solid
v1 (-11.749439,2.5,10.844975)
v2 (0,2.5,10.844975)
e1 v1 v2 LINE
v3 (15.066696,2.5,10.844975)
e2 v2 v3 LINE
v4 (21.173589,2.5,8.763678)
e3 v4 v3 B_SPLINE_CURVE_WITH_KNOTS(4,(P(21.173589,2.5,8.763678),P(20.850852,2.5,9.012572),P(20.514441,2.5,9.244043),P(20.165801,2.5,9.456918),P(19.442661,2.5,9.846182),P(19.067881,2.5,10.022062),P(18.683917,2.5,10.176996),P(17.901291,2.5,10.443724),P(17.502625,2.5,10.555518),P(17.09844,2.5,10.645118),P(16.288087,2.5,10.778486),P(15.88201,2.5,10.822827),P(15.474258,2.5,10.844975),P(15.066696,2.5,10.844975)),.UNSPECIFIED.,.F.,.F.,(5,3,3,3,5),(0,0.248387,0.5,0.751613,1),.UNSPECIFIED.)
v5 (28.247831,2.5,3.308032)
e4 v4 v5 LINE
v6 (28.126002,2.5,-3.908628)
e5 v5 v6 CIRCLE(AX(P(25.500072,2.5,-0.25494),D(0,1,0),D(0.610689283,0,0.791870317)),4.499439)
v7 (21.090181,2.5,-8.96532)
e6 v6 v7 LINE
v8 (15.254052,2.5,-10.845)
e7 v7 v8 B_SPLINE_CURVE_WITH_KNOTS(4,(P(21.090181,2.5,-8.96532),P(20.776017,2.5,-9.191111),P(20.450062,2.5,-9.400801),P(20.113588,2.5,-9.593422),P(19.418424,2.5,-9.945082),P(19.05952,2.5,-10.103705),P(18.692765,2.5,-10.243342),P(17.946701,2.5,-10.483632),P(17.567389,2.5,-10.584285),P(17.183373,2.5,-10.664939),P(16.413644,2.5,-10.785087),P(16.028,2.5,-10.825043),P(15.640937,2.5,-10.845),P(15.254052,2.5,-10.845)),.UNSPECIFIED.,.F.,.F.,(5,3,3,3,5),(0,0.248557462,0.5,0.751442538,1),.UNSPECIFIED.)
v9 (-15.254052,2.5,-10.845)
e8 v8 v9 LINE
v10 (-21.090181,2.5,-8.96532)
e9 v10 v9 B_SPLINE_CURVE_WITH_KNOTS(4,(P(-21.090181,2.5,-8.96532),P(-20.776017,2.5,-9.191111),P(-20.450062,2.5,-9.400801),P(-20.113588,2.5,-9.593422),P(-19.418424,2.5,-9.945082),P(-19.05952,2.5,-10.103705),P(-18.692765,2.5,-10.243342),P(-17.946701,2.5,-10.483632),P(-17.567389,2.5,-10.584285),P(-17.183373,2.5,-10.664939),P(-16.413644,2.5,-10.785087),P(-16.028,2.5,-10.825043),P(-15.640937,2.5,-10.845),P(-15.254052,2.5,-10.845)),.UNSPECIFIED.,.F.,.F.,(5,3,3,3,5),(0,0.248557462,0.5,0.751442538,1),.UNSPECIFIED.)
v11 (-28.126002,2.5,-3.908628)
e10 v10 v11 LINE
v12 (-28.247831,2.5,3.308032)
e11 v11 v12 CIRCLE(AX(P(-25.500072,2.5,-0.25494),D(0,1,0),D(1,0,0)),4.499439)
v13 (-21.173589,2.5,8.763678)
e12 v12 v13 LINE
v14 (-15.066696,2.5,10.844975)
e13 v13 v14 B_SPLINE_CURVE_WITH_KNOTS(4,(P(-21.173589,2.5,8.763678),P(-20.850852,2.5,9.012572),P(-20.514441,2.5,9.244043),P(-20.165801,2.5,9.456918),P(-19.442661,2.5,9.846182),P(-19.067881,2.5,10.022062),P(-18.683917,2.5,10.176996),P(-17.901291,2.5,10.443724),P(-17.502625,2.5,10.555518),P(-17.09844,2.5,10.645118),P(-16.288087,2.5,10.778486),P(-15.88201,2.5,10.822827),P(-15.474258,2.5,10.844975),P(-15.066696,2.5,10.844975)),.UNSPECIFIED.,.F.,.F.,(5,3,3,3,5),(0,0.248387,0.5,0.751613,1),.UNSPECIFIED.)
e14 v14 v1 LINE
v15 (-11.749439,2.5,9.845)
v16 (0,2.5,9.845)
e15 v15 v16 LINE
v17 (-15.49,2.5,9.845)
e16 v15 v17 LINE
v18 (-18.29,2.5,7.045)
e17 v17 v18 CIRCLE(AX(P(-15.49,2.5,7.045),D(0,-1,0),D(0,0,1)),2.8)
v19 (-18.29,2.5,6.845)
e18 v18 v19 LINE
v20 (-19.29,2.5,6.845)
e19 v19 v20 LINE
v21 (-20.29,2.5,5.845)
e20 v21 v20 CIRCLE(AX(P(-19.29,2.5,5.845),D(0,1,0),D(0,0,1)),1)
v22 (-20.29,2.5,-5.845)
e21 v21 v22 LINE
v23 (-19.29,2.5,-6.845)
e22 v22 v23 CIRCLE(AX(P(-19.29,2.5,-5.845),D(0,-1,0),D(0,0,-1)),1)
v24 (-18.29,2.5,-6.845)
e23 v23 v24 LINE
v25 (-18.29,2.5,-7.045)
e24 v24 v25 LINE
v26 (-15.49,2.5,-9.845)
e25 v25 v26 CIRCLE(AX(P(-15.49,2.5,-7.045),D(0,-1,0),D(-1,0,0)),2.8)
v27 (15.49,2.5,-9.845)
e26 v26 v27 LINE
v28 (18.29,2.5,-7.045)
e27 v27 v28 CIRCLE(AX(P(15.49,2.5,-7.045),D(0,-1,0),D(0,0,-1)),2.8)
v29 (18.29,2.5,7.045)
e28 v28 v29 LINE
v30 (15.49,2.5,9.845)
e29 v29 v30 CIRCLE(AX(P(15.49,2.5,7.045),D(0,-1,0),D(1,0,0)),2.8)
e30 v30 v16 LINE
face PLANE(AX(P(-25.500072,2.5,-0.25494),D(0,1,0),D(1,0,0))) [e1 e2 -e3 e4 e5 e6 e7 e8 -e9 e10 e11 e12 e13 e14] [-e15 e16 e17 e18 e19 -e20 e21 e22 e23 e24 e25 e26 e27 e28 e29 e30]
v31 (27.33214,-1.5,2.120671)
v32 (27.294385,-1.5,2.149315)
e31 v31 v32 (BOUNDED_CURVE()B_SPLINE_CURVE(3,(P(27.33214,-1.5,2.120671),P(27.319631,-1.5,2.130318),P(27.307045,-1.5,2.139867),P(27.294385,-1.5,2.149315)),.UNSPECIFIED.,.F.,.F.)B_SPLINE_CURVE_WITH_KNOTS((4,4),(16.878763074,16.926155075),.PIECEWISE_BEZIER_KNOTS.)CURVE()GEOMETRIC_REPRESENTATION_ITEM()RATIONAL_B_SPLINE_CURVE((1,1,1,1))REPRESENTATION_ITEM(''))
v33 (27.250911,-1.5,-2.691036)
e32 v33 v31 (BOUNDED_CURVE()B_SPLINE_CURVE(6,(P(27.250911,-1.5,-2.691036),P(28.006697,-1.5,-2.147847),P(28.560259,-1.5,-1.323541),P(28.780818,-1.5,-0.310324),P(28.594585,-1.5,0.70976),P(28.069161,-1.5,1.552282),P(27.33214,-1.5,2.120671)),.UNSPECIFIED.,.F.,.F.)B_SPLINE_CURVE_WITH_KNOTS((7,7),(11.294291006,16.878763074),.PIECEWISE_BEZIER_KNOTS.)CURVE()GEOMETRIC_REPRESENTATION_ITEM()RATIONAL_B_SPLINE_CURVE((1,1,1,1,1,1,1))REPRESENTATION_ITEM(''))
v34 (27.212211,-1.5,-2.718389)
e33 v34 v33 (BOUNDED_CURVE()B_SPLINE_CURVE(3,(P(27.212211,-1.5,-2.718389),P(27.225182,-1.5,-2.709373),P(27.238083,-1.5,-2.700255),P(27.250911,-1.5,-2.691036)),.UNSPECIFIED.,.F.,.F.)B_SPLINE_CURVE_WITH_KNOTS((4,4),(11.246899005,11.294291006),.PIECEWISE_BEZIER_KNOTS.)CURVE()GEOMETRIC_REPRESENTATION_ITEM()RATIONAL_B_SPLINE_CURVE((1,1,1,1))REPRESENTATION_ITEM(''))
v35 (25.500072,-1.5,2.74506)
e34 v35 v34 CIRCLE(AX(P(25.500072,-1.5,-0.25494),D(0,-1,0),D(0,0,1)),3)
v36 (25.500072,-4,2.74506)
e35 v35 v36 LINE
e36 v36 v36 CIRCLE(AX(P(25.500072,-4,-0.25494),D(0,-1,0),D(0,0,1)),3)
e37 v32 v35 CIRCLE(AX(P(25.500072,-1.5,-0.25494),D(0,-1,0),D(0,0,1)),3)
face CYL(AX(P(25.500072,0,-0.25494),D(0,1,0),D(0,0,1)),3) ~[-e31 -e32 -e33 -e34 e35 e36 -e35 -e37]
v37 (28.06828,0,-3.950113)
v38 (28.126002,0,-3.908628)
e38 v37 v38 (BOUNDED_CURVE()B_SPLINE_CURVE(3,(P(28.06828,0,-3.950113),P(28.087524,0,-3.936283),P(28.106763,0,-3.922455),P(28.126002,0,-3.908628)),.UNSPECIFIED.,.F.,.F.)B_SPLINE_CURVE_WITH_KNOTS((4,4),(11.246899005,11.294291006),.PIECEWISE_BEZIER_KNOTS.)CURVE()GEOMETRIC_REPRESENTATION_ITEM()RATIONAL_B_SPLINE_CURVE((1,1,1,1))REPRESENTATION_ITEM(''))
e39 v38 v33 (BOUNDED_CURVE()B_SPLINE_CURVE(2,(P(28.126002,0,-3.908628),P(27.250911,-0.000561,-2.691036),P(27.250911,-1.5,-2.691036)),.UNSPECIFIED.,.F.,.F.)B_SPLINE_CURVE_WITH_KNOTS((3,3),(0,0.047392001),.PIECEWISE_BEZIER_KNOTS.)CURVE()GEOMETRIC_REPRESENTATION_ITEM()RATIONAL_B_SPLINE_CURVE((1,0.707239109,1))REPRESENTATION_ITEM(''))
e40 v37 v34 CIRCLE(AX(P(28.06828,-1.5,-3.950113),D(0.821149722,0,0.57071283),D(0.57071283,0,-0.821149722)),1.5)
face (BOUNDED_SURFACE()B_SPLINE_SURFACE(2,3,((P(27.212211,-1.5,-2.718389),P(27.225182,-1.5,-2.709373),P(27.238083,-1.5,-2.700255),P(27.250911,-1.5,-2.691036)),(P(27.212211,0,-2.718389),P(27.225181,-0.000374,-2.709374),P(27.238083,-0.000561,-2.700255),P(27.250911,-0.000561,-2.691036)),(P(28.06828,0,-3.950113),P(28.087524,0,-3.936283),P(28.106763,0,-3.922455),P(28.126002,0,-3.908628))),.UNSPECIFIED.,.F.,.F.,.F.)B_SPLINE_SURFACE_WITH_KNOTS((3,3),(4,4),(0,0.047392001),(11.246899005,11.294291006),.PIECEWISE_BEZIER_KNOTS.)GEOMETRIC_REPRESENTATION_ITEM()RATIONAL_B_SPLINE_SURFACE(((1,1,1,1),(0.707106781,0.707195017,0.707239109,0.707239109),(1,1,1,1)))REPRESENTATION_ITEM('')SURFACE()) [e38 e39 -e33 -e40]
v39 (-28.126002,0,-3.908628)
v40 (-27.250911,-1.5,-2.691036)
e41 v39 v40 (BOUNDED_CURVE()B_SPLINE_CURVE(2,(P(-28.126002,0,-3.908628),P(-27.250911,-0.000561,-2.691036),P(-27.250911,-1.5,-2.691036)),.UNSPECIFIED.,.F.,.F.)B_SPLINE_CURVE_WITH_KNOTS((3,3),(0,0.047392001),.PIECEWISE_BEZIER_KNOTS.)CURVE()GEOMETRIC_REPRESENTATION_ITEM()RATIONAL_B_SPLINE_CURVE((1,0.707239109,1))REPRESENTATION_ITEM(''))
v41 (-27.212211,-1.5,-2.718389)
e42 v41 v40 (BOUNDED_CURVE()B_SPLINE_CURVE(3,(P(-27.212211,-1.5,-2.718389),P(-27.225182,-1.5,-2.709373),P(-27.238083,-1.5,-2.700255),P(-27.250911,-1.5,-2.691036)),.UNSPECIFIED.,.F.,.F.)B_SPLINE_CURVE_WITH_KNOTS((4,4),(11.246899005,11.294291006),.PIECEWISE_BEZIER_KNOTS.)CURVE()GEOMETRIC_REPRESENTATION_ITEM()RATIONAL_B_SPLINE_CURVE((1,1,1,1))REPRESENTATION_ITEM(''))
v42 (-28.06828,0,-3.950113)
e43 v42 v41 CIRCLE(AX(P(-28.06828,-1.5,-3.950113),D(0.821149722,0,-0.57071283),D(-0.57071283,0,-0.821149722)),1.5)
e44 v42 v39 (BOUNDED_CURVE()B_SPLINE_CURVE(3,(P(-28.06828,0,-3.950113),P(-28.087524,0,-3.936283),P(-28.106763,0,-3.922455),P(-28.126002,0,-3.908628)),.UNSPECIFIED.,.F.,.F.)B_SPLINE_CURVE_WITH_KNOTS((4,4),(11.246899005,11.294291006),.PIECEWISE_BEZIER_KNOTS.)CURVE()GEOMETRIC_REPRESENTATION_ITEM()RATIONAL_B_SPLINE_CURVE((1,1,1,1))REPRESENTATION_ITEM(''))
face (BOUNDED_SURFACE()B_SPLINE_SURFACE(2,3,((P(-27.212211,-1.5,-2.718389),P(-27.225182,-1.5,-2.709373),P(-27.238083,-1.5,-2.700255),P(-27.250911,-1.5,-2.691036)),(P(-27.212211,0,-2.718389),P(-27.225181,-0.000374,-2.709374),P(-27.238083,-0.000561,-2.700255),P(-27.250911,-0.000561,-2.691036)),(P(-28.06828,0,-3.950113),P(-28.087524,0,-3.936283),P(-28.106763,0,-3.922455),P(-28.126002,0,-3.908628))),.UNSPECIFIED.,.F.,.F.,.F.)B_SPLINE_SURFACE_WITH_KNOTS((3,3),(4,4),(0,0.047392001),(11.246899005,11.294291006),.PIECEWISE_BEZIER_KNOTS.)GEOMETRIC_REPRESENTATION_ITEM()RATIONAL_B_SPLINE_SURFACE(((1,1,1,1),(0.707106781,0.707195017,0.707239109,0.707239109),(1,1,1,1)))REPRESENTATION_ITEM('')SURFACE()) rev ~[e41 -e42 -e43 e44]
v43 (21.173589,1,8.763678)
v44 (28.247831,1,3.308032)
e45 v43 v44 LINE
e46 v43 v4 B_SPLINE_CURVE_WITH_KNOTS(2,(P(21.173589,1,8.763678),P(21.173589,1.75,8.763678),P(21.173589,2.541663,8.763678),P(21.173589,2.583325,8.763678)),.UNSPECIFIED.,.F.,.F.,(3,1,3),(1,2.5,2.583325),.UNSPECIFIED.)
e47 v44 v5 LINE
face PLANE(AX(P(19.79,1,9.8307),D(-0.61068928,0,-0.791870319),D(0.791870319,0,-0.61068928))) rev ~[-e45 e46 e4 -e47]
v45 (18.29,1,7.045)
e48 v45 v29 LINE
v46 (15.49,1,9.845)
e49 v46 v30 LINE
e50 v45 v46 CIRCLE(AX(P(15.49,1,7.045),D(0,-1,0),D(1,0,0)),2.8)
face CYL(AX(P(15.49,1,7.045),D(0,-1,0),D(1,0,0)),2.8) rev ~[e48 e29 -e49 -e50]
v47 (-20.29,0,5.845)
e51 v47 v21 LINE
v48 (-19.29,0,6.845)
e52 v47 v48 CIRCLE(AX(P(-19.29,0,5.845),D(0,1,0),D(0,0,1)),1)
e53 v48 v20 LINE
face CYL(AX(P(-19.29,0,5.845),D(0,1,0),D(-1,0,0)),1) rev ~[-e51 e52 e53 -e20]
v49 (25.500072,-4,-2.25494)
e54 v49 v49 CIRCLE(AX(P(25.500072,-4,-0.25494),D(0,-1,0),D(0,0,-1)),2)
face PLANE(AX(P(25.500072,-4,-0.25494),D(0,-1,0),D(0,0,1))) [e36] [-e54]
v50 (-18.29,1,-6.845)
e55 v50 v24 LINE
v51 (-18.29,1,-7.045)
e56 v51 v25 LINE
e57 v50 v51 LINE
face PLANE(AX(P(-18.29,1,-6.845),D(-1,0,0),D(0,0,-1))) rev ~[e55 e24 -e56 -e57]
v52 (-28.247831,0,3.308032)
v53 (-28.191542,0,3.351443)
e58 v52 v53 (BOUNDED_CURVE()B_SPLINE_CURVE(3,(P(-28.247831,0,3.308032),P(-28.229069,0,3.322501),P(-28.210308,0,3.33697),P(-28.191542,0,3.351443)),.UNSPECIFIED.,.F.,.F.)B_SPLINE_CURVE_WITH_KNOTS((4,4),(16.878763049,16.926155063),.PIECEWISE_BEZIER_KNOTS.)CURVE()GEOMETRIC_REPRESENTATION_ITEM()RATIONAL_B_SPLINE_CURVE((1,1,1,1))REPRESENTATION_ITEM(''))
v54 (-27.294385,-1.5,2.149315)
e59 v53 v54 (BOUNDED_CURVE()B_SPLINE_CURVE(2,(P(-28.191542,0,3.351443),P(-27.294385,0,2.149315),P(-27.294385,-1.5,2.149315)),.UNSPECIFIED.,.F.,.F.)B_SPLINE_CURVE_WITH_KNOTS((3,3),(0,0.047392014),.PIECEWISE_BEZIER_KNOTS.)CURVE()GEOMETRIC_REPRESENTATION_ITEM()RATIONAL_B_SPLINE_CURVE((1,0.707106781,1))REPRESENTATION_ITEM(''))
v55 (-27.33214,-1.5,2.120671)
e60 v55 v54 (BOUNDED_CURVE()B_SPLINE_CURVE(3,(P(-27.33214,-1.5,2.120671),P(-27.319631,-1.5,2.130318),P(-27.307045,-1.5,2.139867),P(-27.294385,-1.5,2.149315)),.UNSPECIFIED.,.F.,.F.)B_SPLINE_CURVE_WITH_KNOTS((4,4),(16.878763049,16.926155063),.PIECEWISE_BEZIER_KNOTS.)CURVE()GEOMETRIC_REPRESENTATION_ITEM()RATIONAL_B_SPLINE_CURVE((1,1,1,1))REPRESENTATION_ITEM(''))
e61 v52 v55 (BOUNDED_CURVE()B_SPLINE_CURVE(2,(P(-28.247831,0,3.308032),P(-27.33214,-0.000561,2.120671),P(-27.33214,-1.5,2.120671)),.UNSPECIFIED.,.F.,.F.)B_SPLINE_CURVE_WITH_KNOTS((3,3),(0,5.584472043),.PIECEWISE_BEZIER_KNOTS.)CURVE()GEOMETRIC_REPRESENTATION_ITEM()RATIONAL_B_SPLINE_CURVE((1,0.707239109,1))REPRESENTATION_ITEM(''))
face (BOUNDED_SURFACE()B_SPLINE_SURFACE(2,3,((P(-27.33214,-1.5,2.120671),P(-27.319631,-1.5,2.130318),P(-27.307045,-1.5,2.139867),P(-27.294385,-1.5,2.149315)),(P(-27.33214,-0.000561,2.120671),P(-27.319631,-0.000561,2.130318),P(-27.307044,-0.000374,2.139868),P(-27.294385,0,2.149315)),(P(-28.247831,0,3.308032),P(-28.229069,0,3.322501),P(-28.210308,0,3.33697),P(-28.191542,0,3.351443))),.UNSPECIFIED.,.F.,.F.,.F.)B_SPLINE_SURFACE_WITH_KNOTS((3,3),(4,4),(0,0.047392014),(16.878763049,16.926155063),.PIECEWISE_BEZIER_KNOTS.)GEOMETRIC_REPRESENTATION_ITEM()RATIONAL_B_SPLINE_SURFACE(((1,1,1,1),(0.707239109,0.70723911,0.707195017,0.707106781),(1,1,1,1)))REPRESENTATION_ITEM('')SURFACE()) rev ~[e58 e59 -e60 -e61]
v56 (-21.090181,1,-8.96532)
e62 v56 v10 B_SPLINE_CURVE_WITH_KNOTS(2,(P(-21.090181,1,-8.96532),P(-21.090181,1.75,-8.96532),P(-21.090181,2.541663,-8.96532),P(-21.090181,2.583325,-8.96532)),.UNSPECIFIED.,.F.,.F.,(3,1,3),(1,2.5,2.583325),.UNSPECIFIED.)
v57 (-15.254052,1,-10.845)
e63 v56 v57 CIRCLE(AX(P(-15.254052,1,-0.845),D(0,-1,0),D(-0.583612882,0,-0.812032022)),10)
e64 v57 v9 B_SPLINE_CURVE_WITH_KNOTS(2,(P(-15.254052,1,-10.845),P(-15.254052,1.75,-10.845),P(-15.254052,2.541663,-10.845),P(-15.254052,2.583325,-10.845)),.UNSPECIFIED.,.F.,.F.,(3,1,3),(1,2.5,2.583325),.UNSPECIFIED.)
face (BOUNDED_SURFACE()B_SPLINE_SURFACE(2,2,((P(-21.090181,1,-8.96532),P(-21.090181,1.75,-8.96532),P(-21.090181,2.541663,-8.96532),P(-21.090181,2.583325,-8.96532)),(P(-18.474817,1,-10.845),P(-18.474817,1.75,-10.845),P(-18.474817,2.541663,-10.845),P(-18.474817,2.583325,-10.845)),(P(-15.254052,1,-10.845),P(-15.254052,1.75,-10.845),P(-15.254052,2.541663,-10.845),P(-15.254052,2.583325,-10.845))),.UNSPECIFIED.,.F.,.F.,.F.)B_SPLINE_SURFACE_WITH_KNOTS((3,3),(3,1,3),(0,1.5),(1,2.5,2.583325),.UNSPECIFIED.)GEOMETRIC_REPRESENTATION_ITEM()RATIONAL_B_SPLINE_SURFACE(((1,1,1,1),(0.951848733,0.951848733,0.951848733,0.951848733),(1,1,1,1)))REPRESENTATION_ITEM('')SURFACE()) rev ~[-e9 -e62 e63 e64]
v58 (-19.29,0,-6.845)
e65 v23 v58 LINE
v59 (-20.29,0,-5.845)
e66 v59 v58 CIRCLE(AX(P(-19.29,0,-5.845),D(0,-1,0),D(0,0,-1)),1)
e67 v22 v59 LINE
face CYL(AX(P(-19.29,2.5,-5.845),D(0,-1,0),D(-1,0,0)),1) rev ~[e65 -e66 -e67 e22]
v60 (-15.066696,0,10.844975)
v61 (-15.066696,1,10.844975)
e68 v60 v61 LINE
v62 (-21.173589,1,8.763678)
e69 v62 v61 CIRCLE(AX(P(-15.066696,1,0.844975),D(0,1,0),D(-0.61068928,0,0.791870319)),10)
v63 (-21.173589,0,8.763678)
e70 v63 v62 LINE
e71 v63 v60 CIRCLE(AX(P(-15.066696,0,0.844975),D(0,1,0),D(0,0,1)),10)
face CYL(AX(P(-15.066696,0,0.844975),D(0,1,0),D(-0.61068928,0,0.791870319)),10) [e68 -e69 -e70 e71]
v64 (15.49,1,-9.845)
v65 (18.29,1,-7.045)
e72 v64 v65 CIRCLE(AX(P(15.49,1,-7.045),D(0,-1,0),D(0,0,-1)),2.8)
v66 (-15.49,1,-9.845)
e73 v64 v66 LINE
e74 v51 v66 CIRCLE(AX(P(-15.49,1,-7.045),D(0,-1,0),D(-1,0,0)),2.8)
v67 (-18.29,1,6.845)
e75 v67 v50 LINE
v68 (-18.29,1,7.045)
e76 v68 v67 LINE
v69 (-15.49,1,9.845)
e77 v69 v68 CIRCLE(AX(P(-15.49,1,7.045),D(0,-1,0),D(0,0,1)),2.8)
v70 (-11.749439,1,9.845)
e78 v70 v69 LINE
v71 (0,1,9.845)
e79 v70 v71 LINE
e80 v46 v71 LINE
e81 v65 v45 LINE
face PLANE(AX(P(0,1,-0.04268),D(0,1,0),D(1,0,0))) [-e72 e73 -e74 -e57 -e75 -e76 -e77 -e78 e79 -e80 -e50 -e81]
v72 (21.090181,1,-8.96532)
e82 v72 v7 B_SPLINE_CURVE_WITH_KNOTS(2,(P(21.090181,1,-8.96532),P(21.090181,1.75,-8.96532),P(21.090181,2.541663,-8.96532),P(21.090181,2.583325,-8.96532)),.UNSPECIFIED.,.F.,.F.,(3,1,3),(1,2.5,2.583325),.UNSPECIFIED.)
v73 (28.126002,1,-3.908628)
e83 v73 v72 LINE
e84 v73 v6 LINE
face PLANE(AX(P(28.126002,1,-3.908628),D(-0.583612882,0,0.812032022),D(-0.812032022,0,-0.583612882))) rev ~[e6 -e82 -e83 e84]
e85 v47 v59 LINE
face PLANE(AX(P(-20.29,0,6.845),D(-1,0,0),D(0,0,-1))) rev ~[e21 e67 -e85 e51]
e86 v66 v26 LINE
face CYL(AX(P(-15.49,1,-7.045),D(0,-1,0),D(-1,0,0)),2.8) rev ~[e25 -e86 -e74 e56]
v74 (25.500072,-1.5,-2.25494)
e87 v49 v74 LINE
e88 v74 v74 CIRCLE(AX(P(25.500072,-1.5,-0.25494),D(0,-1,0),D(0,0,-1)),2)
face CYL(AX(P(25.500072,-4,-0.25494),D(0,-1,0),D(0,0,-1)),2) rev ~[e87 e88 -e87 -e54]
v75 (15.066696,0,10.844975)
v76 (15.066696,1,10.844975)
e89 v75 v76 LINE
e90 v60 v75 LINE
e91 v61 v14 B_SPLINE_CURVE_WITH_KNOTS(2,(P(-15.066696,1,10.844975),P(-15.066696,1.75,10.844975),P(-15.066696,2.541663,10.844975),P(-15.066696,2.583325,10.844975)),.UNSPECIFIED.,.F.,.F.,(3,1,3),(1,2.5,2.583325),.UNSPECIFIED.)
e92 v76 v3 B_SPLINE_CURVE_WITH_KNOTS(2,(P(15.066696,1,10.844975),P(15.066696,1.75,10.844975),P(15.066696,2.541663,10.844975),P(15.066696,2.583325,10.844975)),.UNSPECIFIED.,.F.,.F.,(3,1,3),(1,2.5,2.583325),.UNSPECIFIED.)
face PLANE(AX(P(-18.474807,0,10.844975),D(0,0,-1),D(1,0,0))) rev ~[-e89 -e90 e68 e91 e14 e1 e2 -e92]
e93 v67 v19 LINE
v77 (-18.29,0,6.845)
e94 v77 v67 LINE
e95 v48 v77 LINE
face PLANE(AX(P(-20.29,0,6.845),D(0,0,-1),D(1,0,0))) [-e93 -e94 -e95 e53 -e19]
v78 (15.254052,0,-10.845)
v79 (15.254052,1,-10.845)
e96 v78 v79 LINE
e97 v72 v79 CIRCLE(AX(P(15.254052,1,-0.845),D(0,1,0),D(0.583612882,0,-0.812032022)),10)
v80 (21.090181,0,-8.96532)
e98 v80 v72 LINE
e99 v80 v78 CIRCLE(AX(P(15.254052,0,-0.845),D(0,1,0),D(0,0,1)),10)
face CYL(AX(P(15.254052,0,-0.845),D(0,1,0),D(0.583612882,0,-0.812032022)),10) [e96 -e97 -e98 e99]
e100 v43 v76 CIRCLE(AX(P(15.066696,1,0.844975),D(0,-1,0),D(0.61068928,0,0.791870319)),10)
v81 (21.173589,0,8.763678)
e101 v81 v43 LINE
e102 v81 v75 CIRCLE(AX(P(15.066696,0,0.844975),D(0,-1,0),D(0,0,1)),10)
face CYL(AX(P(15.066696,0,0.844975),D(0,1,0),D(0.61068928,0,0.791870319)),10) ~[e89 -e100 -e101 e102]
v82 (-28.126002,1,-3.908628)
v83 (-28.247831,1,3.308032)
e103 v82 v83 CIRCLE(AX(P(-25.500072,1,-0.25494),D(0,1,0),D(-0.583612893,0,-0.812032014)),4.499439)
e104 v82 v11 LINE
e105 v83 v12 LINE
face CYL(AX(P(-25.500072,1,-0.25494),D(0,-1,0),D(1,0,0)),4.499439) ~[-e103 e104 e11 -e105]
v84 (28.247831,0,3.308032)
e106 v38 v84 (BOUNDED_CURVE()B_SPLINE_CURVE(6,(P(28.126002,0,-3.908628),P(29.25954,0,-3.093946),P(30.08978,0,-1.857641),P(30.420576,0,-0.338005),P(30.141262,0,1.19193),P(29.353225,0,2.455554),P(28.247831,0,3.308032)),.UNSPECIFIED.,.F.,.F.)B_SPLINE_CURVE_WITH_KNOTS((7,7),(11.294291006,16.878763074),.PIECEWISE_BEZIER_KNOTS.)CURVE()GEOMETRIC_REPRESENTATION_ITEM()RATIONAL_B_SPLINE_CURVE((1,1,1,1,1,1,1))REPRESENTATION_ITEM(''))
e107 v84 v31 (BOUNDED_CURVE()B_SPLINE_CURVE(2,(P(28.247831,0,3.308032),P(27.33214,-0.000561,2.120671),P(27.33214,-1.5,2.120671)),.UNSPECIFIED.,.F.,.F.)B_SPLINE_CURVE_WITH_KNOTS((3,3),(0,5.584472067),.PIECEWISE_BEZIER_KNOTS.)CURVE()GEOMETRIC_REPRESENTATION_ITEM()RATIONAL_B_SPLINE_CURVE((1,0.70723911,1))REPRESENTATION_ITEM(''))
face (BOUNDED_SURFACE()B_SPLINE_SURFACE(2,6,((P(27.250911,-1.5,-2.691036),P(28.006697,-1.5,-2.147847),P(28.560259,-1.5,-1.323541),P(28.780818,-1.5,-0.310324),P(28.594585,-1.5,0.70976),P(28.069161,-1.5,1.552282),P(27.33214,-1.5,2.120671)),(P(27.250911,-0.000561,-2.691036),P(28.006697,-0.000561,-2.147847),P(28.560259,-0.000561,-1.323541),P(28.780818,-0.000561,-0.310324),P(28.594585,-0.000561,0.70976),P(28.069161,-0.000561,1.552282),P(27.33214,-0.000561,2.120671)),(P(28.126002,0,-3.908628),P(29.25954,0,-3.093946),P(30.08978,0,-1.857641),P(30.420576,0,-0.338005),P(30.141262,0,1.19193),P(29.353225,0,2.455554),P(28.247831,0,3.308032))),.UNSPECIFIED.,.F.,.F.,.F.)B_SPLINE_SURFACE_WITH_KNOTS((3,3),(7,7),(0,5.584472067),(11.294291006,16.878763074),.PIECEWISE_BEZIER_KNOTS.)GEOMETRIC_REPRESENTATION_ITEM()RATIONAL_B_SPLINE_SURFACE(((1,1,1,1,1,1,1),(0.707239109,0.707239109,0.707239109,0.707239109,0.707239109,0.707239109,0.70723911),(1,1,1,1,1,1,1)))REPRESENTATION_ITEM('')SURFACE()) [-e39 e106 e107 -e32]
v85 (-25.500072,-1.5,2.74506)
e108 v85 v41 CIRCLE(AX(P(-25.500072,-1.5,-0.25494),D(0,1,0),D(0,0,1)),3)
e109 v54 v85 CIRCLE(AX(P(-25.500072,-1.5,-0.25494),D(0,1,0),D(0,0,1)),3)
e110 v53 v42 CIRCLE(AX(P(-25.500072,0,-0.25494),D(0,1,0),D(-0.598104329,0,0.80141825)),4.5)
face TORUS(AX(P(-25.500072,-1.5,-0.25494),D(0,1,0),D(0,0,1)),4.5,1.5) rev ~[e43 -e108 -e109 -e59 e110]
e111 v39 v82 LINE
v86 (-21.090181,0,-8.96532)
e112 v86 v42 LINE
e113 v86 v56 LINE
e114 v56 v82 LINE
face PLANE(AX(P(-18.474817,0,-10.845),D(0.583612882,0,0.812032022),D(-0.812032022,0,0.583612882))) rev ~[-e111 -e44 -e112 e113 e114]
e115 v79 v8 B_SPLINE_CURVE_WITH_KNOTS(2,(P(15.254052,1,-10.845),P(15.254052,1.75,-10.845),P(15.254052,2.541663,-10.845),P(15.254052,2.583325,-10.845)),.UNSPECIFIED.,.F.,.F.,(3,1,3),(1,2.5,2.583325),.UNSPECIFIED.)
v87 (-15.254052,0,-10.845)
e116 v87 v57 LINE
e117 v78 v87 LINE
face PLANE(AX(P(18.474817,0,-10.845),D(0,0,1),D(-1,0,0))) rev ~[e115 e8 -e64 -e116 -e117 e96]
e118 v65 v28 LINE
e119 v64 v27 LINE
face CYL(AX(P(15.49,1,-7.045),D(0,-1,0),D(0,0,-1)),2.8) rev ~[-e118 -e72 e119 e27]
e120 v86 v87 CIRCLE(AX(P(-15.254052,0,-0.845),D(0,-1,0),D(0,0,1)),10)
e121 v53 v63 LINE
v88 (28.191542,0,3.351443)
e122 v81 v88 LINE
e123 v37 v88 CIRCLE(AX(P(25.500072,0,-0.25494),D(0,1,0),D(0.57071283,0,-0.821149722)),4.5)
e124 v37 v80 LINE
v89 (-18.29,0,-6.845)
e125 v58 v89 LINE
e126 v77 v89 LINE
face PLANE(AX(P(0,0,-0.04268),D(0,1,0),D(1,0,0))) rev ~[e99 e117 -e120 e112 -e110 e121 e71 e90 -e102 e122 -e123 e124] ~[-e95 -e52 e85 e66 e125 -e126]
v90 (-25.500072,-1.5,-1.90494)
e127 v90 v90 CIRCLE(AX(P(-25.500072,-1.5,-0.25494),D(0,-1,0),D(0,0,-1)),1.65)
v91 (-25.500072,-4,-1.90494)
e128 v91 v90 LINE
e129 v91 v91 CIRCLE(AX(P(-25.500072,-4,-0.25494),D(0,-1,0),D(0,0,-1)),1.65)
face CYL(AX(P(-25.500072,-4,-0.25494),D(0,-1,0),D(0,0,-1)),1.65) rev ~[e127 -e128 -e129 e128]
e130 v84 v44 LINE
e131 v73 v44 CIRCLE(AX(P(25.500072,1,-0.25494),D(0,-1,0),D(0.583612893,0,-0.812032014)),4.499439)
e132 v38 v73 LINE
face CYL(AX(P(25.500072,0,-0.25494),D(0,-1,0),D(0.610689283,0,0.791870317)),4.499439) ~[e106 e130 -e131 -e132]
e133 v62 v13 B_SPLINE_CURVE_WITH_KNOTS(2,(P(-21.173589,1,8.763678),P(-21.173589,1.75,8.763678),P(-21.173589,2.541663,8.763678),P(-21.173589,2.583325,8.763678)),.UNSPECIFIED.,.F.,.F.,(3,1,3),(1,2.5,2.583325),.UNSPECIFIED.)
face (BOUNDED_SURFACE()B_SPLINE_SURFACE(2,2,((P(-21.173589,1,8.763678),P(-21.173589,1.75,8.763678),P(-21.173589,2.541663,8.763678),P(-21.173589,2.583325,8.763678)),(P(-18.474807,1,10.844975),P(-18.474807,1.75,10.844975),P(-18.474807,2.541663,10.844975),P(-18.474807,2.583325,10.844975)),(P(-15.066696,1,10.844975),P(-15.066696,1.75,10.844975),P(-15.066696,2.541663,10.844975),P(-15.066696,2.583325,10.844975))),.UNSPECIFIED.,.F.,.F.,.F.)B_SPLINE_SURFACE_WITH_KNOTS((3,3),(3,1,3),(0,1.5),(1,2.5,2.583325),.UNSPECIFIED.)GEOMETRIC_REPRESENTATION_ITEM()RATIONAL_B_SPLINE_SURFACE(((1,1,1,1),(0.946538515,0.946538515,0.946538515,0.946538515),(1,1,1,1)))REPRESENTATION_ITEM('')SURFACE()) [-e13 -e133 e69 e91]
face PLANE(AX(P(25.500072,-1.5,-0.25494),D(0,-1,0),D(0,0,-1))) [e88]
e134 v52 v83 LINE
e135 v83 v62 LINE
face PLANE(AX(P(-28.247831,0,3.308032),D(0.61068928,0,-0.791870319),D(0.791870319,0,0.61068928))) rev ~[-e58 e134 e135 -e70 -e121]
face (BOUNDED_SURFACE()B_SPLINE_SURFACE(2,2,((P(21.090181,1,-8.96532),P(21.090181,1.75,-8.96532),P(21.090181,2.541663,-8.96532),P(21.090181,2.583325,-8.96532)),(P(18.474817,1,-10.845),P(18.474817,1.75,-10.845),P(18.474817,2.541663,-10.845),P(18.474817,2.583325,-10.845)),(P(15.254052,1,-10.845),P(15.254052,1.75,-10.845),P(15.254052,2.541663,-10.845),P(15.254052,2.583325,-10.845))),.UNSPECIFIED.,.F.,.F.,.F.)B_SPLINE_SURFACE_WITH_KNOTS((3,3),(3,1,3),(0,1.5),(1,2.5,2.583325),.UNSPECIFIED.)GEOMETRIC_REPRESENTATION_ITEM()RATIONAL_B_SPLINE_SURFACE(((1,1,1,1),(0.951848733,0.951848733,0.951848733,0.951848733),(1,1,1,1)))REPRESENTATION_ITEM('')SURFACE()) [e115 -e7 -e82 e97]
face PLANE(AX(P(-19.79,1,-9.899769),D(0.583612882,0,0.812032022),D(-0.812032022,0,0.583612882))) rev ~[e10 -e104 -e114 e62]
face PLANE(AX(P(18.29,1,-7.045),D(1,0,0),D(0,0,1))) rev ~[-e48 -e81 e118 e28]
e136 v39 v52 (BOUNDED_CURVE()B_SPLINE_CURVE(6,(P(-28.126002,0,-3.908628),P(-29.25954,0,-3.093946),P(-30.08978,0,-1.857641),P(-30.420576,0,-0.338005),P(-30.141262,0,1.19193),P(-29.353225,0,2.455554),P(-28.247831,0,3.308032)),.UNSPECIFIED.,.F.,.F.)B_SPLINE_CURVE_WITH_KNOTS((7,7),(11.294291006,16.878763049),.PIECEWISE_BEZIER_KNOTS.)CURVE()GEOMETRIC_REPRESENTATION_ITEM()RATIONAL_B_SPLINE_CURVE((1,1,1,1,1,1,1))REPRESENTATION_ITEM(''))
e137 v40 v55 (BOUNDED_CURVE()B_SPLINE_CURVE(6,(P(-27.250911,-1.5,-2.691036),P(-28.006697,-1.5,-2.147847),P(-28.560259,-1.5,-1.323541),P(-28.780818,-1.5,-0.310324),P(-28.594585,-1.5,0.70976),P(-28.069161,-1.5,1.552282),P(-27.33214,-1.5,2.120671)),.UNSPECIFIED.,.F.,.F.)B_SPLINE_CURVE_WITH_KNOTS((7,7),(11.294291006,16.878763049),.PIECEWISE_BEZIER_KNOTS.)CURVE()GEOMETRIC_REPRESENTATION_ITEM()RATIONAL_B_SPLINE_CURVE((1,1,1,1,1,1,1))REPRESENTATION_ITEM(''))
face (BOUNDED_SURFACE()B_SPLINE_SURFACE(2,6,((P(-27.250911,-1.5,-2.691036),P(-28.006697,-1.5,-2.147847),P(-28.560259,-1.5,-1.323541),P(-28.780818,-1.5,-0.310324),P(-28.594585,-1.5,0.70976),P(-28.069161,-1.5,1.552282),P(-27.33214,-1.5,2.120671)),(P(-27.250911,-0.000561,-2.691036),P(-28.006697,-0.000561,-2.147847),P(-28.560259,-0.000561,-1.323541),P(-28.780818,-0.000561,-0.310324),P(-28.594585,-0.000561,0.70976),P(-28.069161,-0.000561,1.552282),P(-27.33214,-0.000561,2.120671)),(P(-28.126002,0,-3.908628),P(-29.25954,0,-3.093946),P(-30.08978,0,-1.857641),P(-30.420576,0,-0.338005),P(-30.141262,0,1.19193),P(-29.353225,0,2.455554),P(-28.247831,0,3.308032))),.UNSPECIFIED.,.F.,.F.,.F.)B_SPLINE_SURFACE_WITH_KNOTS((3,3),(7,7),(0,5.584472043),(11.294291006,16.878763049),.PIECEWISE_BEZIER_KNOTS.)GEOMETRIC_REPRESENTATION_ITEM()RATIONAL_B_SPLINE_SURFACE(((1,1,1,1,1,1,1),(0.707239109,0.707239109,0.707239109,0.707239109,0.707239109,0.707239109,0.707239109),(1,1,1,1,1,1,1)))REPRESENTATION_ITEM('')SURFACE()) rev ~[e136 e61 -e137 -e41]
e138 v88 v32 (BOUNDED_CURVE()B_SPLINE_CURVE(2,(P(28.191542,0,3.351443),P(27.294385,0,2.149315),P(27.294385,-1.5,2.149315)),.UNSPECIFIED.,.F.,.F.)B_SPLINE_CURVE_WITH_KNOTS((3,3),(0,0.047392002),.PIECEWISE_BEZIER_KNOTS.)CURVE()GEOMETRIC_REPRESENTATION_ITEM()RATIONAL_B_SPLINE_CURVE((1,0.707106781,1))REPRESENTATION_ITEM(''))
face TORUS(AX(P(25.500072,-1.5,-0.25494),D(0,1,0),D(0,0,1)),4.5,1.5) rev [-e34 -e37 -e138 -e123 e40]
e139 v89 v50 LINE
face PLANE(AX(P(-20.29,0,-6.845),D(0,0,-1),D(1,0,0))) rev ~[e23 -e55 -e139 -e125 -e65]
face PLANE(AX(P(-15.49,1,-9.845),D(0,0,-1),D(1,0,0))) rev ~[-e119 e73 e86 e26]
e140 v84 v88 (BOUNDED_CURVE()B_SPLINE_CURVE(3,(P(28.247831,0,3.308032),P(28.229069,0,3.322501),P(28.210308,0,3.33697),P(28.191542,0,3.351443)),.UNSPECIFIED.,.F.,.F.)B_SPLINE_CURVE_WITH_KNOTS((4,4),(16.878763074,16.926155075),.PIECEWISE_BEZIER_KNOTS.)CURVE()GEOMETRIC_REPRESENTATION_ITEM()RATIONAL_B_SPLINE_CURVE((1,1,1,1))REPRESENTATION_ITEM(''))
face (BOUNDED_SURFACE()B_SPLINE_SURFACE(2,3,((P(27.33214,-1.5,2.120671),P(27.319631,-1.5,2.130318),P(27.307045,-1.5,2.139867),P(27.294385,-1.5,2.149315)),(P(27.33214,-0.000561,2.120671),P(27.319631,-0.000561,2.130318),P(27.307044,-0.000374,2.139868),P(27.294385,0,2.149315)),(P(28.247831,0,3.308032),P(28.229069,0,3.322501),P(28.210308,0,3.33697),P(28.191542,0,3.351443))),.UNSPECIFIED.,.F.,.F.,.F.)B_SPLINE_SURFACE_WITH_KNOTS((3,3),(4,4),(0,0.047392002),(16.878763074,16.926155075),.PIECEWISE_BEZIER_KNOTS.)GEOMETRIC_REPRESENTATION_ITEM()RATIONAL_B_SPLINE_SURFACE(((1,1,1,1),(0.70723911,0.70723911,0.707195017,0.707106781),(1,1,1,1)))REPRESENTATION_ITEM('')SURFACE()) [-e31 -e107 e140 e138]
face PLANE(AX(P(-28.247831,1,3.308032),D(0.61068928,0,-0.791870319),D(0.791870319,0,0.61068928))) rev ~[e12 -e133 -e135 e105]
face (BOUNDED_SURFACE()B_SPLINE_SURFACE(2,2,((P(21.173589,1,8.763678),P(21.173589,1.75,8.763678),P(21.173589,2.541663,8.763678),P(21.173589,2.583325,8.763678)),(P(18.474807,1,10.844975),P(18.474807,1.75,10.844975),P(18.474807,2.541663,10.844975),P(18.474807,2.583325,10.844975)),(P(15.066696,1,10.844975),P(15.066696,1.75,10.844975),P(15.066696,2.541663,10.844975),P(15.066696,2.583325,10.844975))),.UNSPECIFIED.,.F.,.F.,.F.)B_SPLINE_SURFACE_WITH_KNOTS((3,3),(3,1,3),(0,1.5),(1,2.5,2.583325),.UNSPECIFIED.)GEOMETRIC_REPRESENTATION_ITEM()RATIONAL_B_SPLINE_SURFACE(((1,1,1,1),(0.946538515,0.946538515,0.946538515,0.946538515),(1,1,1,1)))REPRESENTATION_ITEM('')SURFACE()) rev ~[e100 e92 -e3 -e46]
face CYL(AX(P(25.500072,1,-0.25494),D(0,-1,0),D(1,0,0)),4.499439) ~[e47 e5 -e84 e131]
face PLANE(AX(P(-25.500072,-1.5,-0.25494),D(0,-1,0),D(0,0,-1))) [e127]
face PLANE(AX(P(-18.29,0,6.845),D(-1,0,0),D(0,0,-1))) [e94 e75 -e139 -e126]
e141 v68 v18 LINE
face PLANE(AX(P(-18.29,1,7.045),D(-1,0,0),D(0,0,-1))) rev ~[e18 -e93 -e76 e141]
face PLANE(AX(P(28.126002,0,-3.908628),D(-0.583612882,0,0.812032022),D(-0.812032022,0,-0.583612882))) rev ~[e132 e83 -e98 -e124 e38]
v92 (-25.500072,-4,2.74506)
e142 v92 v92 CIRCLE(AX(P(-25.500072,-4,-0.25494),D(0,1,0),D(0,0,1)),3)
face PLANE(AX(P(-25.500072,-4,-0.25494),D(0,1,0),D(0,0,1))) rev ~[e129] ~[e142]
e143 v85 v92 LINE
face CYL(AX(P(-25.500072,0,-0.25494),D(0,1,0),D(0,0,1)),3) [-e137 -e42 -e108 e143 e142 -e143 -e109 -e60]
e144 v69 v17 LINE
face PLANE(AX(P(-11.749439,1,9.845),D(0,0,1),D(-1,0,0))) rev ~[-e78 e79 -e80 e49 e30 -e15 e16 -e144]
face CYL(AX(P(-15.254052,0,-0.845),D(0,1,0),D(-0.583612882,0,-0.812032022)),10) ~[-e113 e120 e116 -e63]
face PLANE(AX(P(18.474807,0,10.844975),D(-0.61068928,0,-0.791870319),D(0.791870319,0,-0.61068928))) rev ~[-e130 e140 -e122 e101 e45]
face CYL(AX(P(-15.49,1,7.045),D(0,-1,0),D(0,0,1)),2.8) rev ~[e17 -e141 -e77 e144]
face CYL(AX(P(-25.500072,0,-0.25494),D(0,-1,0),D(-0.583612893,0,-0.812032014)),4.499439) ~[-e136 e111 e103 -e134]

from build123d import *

# Parameters (mm, degrees)
SKETCH_1_W          = 2
SKETCH_1_H          = 13.69
EXTRUDE_1_DEPTH     = 1
EXTRUDE_START       = 1
SKETCH_1_3_R        = 4.499438526
SKETCH_1_3_R_2      = 3
SKETCH_1_3_W        = 4.417890806
SKETCH_1_3_H        = 1
SKETCH_1_3_W_2      = 11.749439362
SKETCH_1_3_H_2      = 0.999974731
EXTRUDE_2_DEPTH     = 1.5
FILLET_1_R          = 1
SKETCH_1_4_R        = 3
EXTRUDE_3_DEPTH     = 4
SKETCH_4_R          = 1.65
CUT_EXTRUDE_1_DEPTH = 2.5
FILLET_2_R          = 1.5
FILLET_3_R          = 10
SKETCH_9_R          = 3
EXTRUDE_6_DEPTH     = 4
SKETCH_10_R         = 2
CUT_EXTRUDE_3_DEPTH = 2.5
FILLET_5_R          = 1.5


with BuildPart() as part:
    # 草图1 → 凸台-拉伸1 (new body)
    with BuildSketch(Plane(origin=(0, 0, 0), x_dir=(1, 0, 0), z_dir=(0, 1, 0))):
        with BuildLine():
            Line((18.474806794, -10.844974731), (28.247830948, -3.308032201))
            ThreePointArc((28.247830948, -3.308032201), (29.998869582, 0.33088638), (28.126002395, 3.908627739))
            Line((28.126002395, 3.908627739), (18.474816537, 10.845))
            Line((18.474816537, 10.845), (-18.474816537, 10.845))
            Line((-18.474816537, 10.845), (-28.126002395, 3.908627739))
            ThreePointArc((-28.126002395, 3.908627739), (-29.998869582, 0.330886398), (-28.247830977, -3.308032179))
            Line((-28.247830977, -3.308032179), (-18.474806794, -10.844974731))
            Line((-18.474806794, -10.844974731), (18.474806794, -10.844974731))
        make_face()
        with Locations((-19.29, 0)):
            Rectangle(SKETCH_1_W, SKETCH_1_H, mode=Mode.SUBTRACT)
    extrude(amount=EXTRUDE_1_DEPTH)

    # 草图1<3> → 凸台-拉伸2 (add)
    # profile 1 of 10: a face of its own
    with BuildSketch(Plane(origin=(0, 0, 0), x_dir=(1, 0, 0), z_dir=(0, 1, 0)).offset(EXTRUDE_START)):
        with Locations((-25.50007206, 0.254939612)):
            Circle(SKETCH_1_3_R)
        with Locations((-25.50007206, 0.254939612)):
            Circle(SKETCH_1_3_R_2, mode=Mode.SUBTRACT)
    # profile 2 of 10: a face of its own
    with BuildSketch(Plane(origin=(0, 0, 0), x_dir=(1, 0, 0), z_dir=(0, 1, 0)).offset(EXTRUDE_START)):
        with Locations((-25.50007206, 0.254939612)):
            Circle(SKETCH_1_3_R_2)
    # profile 3 of 10: a face of its own
    with BuildSketch(Plane(origin=(0, 0, 0), x_dir=(1, 0, 0), z_dir=(0, 1, 0)).offset(EXTRUDE_START)):
        with BuildLine():
            Line((-19.79, 6.845), (-19.79, 9.89976879))
            Line((-19.79, 9.89976879), (-28.126002395, 3.908627739))
            ThreePointArc((-28.126002395, 3.908627739), (-23.44705782, 4.258697795), (-21.000633534, 0.254939612))
            ThreePointArc((-21.000633534, 0.254939612), (-23.514930413, -3.782901357), (-28.247830977, -3.308032179))
            Line((-28.247830977, -3.308032179), (-19.79, -9.830699574))
            Line((-19.79, -9.830699574), (-19.79, -6.845))
            Line((-19.79, -6.845), (-20.29, -6.845))
            Line((-20.29, -6.845), (-20.29, 6.845))
            Line((-20.29, 6.845), (-19.79, 6.845))
        make_face()
    # profile 4 of 10: a face of its own
    with BuildSketch(Plane(origin=(0, 0, 0), x_dir=(1, 0, 0), z_dir=(0, 1, 0)).offset(EXTRUDE_START)):
        with BuildLine():
            Line((-18.474816537, 10.845), (-19.79, 9.89976879))
            Line((-19.79, 9.89976879), (-19.79, 6.845))
            Line((-19.79, 6.845), (-18.29, 6.845))
            Line((-18.29, 6.845), (-18.29, 7.045))
            ThreePointArc((-18.29, 7.045), (-17.469898987, 9.024898987), (-15.49, 9.845))
            Line((-15.49, 9.845), (-4.417890806, 9.845))
            Line((-4.417890806, 9.845), (-4.417890806, 10.845))
            Line((-4.417890806, 10.845), (-18.474816537, 10.845))
        make_face()
    # profile 5 of 10: a face of its own
    with BuildSketch(Plane(origin=(0, 0, 0), x_dir=(1, 0, 0), z_dir=(0, 1, 0)).offset(EXTRUDE_START)):
        with Locations((-2.208945403, 10.345)):
            Rectangle(SKETCH_1_3_W, SKETCH_1_3_H)
    # profile 6 of 10: a face of its own
    with BuildSketch(Plane(origin=(0, 0, 0), x_dir=(1, 0, 0), z_dir=(0, 1, 0)).offset(EXTRUDE_START)):
        with BuildLine():
            Line((-19.79, -6.845), (-19.79, -9.830699574))
            Line((-19.79, -9.830699574), (-18.474806794, -10.844974731))
            Line((-18.474806794, -10.844974731), (-11.749439362, -10.844974731))
            Line((-11.749439362, -10.844974731), (-11.749439362, -9.845))
            Line((-11.749439362, -9.845), (-15.49, -9.845))
            ThreePointArc((-15.49, -9.845), (-17.469898987, -9.024898987), (-18.29, -7.045))
            Line((-18.29, -7.045), (-18.29, -6.845))
            Line((-18.29, -6.845), (-19.79, -6.845))
        make_face()
    # profile 7 of 10: a face of its own
    with BuildSketch(Plane(origin=(0, 0, 0), x_dir=(1, 0, 0), z_dir=(0, 1, 0)).offset(EXTRUDE_START)):
        with Locations((-5.874719681, -10.344987365)):
            Rectangle(SKETCH_1_3_W_2, SKETCH_1_3_H_2)
    # profile 8 of 10: a face of its own
    with BuildSketch(Plane(origin=(0, 0, 0), x_dir=(1, 0, 0), z_dir=(0, 1, 0)).offset(EXTRUDE_START)):
        with BuildLine():
            Line((18.474816537, 10.845), (0, 10.845))
            Line((0, 10.845), (0, 9.845))
            Line((0, 9.845), (15.49, 9.845))
            ThreePointArc((15.49, 9.845), (17.469898987, 9.024898987), (18.29, 7.045))
            Line((18.29, 7.045), (18.29, -7.045))
            ThreePointArc((18.29, -7.045), (17.469898987, -9.024898987), (15.49, -9.845))
            Line((15.49, -9.845), (0, -9.845))
            Line((0, -9.845), (0, -10.844974731))
            Line((0, -10.844974731), (18.474806794, -10.844974731))
            Line((18.474806794, -10.844974731), (19.79, -9.830699574))
            Line((19.79, -9.830699574), (19.79, 9.89976879))
            Line((19.79, 9.89976879), (18.474816537, 10.845))
        make_face()
    # profile 9 of 10: a face of its own
    with BuildSketch(Plane(origin=(0, 0, 0), x_dir=(1, 0, 0), z_dir=(0, 1, 0)).offset(EXTRUDE_START)):
        with BuildLine():
            Line((28.126002395, 3.908627739), (19.79, 9.89976879))
            Line((19.79, 9.89976879), (19.79, -9.830699574))
            Line((19.79, -9.830699574), (28.247830948, -3.308032201))
            ThreePointArc((28.247830948, -3.308032201), (21.001274538, 0.178992845), (28.126002395, 3.908627739))
        make_face()
    # profile 10 of 10: a face of its own
    with BuildSketch(Plane(origin=(0, 0, 0), x_dir=(1, 0, 0), z_dir=(0, 1, 0)).offset(EXTRUDE_START)):
        with Locations((25.50007206, 0.254939612)):
            Circle(SKETCH_1_3_R)
    extrude(amount=EXTRUDE_2_DEPTH)

    # 圆角1
    fillet_1_edges = [part.edges().sort_by_distance(p)[0] for p in [
        (-20.29, 1.25, -6.845),
        (-20.29, 1.25, 6.845),
    ]]
    fillet(fillet_1_edges, radius=FILLET_1_R)

    # 草图1<4> → 凸台-拉伸3 (add)
    with BuildSketch(Plane(origin=(0, 0, 0), x_dir=(1, 0, 0), z_dir=(0, 1, 0))):
        with Locations(Location((-25.50007206, 0.254939612, 0), (0, 0, 270))):
            Circle(SKETCH_1_4_R)
    extrude(amount=-EXTRUDE_3_DEPTH)

    # 草图4 → 切除-拉伸1 (cut)
    with BuildSketch(Plane.XZ.offset(4)):
        with Locations(Location((-25.50007206, -0.254939612, 0), (0, 0, 270))):
            Circle(SKETCH_4_R)
        with Locations((25.5, -0.255)):
            Circle(SKETCH_4_R)
    extrude(amount=-CUT_EXTRUDE_1_DEPTH, mode=Mode.SUBTRACT)

    # 圆角2
    fillet_2_edges = [part.edges().sort_by_distance(p)[0] for p in [
        (-25.50007206, 0, -3.254939612),
    ]]
    fillet(fillet_2_edges, radius=FILLET_2_R)

    # 圆角3
    fillet_3_edges = [part.edges().sort_by_distance(p)[0] for p in [
        (-18.474806794, 1.25, 10.844974731),
        (-18.474816537, 1.25, -10.845),
        (18.474816537, 1.25, -10.845),
        (18.474806794, 1.25, 10.844974731),
    ]]
    fillet(fillet_3_edges, radius=FILLET_3_R)

    # 草图9 → 凸台-拉伸6 (add)
    with BuildSketch(Plane.XZ):
        with Locations(Location((25.50007206, -0.254939612, 0), (0, 0, 90))):
            Circle(SKETCH_9_R)
    extrude(amount=EXTRUDE_6_DEPTH)

    # 草图10 → 切除-拉伸3 (cut)
    with BuildSketch(Plane.XZ.offset(4)):
        with Locations(Location((25.50007206, -0.254939612, 0), (0, 0, 270))):
            Circle(SKETCH_10_R)
    extrude(amount=-CUT_EXTRUDE_3_DEPTH, mode=Mode.SUBTRACT)

    # 圆角5
    fillet_5_edges = [part.edges().sort_by_distance(p)[0] for p in [
        (25.50007206, 0, -3.254939612),
    ]]
    fillet(fillet_5_edges, radius=FILLET_5_R)


solid = part.part
